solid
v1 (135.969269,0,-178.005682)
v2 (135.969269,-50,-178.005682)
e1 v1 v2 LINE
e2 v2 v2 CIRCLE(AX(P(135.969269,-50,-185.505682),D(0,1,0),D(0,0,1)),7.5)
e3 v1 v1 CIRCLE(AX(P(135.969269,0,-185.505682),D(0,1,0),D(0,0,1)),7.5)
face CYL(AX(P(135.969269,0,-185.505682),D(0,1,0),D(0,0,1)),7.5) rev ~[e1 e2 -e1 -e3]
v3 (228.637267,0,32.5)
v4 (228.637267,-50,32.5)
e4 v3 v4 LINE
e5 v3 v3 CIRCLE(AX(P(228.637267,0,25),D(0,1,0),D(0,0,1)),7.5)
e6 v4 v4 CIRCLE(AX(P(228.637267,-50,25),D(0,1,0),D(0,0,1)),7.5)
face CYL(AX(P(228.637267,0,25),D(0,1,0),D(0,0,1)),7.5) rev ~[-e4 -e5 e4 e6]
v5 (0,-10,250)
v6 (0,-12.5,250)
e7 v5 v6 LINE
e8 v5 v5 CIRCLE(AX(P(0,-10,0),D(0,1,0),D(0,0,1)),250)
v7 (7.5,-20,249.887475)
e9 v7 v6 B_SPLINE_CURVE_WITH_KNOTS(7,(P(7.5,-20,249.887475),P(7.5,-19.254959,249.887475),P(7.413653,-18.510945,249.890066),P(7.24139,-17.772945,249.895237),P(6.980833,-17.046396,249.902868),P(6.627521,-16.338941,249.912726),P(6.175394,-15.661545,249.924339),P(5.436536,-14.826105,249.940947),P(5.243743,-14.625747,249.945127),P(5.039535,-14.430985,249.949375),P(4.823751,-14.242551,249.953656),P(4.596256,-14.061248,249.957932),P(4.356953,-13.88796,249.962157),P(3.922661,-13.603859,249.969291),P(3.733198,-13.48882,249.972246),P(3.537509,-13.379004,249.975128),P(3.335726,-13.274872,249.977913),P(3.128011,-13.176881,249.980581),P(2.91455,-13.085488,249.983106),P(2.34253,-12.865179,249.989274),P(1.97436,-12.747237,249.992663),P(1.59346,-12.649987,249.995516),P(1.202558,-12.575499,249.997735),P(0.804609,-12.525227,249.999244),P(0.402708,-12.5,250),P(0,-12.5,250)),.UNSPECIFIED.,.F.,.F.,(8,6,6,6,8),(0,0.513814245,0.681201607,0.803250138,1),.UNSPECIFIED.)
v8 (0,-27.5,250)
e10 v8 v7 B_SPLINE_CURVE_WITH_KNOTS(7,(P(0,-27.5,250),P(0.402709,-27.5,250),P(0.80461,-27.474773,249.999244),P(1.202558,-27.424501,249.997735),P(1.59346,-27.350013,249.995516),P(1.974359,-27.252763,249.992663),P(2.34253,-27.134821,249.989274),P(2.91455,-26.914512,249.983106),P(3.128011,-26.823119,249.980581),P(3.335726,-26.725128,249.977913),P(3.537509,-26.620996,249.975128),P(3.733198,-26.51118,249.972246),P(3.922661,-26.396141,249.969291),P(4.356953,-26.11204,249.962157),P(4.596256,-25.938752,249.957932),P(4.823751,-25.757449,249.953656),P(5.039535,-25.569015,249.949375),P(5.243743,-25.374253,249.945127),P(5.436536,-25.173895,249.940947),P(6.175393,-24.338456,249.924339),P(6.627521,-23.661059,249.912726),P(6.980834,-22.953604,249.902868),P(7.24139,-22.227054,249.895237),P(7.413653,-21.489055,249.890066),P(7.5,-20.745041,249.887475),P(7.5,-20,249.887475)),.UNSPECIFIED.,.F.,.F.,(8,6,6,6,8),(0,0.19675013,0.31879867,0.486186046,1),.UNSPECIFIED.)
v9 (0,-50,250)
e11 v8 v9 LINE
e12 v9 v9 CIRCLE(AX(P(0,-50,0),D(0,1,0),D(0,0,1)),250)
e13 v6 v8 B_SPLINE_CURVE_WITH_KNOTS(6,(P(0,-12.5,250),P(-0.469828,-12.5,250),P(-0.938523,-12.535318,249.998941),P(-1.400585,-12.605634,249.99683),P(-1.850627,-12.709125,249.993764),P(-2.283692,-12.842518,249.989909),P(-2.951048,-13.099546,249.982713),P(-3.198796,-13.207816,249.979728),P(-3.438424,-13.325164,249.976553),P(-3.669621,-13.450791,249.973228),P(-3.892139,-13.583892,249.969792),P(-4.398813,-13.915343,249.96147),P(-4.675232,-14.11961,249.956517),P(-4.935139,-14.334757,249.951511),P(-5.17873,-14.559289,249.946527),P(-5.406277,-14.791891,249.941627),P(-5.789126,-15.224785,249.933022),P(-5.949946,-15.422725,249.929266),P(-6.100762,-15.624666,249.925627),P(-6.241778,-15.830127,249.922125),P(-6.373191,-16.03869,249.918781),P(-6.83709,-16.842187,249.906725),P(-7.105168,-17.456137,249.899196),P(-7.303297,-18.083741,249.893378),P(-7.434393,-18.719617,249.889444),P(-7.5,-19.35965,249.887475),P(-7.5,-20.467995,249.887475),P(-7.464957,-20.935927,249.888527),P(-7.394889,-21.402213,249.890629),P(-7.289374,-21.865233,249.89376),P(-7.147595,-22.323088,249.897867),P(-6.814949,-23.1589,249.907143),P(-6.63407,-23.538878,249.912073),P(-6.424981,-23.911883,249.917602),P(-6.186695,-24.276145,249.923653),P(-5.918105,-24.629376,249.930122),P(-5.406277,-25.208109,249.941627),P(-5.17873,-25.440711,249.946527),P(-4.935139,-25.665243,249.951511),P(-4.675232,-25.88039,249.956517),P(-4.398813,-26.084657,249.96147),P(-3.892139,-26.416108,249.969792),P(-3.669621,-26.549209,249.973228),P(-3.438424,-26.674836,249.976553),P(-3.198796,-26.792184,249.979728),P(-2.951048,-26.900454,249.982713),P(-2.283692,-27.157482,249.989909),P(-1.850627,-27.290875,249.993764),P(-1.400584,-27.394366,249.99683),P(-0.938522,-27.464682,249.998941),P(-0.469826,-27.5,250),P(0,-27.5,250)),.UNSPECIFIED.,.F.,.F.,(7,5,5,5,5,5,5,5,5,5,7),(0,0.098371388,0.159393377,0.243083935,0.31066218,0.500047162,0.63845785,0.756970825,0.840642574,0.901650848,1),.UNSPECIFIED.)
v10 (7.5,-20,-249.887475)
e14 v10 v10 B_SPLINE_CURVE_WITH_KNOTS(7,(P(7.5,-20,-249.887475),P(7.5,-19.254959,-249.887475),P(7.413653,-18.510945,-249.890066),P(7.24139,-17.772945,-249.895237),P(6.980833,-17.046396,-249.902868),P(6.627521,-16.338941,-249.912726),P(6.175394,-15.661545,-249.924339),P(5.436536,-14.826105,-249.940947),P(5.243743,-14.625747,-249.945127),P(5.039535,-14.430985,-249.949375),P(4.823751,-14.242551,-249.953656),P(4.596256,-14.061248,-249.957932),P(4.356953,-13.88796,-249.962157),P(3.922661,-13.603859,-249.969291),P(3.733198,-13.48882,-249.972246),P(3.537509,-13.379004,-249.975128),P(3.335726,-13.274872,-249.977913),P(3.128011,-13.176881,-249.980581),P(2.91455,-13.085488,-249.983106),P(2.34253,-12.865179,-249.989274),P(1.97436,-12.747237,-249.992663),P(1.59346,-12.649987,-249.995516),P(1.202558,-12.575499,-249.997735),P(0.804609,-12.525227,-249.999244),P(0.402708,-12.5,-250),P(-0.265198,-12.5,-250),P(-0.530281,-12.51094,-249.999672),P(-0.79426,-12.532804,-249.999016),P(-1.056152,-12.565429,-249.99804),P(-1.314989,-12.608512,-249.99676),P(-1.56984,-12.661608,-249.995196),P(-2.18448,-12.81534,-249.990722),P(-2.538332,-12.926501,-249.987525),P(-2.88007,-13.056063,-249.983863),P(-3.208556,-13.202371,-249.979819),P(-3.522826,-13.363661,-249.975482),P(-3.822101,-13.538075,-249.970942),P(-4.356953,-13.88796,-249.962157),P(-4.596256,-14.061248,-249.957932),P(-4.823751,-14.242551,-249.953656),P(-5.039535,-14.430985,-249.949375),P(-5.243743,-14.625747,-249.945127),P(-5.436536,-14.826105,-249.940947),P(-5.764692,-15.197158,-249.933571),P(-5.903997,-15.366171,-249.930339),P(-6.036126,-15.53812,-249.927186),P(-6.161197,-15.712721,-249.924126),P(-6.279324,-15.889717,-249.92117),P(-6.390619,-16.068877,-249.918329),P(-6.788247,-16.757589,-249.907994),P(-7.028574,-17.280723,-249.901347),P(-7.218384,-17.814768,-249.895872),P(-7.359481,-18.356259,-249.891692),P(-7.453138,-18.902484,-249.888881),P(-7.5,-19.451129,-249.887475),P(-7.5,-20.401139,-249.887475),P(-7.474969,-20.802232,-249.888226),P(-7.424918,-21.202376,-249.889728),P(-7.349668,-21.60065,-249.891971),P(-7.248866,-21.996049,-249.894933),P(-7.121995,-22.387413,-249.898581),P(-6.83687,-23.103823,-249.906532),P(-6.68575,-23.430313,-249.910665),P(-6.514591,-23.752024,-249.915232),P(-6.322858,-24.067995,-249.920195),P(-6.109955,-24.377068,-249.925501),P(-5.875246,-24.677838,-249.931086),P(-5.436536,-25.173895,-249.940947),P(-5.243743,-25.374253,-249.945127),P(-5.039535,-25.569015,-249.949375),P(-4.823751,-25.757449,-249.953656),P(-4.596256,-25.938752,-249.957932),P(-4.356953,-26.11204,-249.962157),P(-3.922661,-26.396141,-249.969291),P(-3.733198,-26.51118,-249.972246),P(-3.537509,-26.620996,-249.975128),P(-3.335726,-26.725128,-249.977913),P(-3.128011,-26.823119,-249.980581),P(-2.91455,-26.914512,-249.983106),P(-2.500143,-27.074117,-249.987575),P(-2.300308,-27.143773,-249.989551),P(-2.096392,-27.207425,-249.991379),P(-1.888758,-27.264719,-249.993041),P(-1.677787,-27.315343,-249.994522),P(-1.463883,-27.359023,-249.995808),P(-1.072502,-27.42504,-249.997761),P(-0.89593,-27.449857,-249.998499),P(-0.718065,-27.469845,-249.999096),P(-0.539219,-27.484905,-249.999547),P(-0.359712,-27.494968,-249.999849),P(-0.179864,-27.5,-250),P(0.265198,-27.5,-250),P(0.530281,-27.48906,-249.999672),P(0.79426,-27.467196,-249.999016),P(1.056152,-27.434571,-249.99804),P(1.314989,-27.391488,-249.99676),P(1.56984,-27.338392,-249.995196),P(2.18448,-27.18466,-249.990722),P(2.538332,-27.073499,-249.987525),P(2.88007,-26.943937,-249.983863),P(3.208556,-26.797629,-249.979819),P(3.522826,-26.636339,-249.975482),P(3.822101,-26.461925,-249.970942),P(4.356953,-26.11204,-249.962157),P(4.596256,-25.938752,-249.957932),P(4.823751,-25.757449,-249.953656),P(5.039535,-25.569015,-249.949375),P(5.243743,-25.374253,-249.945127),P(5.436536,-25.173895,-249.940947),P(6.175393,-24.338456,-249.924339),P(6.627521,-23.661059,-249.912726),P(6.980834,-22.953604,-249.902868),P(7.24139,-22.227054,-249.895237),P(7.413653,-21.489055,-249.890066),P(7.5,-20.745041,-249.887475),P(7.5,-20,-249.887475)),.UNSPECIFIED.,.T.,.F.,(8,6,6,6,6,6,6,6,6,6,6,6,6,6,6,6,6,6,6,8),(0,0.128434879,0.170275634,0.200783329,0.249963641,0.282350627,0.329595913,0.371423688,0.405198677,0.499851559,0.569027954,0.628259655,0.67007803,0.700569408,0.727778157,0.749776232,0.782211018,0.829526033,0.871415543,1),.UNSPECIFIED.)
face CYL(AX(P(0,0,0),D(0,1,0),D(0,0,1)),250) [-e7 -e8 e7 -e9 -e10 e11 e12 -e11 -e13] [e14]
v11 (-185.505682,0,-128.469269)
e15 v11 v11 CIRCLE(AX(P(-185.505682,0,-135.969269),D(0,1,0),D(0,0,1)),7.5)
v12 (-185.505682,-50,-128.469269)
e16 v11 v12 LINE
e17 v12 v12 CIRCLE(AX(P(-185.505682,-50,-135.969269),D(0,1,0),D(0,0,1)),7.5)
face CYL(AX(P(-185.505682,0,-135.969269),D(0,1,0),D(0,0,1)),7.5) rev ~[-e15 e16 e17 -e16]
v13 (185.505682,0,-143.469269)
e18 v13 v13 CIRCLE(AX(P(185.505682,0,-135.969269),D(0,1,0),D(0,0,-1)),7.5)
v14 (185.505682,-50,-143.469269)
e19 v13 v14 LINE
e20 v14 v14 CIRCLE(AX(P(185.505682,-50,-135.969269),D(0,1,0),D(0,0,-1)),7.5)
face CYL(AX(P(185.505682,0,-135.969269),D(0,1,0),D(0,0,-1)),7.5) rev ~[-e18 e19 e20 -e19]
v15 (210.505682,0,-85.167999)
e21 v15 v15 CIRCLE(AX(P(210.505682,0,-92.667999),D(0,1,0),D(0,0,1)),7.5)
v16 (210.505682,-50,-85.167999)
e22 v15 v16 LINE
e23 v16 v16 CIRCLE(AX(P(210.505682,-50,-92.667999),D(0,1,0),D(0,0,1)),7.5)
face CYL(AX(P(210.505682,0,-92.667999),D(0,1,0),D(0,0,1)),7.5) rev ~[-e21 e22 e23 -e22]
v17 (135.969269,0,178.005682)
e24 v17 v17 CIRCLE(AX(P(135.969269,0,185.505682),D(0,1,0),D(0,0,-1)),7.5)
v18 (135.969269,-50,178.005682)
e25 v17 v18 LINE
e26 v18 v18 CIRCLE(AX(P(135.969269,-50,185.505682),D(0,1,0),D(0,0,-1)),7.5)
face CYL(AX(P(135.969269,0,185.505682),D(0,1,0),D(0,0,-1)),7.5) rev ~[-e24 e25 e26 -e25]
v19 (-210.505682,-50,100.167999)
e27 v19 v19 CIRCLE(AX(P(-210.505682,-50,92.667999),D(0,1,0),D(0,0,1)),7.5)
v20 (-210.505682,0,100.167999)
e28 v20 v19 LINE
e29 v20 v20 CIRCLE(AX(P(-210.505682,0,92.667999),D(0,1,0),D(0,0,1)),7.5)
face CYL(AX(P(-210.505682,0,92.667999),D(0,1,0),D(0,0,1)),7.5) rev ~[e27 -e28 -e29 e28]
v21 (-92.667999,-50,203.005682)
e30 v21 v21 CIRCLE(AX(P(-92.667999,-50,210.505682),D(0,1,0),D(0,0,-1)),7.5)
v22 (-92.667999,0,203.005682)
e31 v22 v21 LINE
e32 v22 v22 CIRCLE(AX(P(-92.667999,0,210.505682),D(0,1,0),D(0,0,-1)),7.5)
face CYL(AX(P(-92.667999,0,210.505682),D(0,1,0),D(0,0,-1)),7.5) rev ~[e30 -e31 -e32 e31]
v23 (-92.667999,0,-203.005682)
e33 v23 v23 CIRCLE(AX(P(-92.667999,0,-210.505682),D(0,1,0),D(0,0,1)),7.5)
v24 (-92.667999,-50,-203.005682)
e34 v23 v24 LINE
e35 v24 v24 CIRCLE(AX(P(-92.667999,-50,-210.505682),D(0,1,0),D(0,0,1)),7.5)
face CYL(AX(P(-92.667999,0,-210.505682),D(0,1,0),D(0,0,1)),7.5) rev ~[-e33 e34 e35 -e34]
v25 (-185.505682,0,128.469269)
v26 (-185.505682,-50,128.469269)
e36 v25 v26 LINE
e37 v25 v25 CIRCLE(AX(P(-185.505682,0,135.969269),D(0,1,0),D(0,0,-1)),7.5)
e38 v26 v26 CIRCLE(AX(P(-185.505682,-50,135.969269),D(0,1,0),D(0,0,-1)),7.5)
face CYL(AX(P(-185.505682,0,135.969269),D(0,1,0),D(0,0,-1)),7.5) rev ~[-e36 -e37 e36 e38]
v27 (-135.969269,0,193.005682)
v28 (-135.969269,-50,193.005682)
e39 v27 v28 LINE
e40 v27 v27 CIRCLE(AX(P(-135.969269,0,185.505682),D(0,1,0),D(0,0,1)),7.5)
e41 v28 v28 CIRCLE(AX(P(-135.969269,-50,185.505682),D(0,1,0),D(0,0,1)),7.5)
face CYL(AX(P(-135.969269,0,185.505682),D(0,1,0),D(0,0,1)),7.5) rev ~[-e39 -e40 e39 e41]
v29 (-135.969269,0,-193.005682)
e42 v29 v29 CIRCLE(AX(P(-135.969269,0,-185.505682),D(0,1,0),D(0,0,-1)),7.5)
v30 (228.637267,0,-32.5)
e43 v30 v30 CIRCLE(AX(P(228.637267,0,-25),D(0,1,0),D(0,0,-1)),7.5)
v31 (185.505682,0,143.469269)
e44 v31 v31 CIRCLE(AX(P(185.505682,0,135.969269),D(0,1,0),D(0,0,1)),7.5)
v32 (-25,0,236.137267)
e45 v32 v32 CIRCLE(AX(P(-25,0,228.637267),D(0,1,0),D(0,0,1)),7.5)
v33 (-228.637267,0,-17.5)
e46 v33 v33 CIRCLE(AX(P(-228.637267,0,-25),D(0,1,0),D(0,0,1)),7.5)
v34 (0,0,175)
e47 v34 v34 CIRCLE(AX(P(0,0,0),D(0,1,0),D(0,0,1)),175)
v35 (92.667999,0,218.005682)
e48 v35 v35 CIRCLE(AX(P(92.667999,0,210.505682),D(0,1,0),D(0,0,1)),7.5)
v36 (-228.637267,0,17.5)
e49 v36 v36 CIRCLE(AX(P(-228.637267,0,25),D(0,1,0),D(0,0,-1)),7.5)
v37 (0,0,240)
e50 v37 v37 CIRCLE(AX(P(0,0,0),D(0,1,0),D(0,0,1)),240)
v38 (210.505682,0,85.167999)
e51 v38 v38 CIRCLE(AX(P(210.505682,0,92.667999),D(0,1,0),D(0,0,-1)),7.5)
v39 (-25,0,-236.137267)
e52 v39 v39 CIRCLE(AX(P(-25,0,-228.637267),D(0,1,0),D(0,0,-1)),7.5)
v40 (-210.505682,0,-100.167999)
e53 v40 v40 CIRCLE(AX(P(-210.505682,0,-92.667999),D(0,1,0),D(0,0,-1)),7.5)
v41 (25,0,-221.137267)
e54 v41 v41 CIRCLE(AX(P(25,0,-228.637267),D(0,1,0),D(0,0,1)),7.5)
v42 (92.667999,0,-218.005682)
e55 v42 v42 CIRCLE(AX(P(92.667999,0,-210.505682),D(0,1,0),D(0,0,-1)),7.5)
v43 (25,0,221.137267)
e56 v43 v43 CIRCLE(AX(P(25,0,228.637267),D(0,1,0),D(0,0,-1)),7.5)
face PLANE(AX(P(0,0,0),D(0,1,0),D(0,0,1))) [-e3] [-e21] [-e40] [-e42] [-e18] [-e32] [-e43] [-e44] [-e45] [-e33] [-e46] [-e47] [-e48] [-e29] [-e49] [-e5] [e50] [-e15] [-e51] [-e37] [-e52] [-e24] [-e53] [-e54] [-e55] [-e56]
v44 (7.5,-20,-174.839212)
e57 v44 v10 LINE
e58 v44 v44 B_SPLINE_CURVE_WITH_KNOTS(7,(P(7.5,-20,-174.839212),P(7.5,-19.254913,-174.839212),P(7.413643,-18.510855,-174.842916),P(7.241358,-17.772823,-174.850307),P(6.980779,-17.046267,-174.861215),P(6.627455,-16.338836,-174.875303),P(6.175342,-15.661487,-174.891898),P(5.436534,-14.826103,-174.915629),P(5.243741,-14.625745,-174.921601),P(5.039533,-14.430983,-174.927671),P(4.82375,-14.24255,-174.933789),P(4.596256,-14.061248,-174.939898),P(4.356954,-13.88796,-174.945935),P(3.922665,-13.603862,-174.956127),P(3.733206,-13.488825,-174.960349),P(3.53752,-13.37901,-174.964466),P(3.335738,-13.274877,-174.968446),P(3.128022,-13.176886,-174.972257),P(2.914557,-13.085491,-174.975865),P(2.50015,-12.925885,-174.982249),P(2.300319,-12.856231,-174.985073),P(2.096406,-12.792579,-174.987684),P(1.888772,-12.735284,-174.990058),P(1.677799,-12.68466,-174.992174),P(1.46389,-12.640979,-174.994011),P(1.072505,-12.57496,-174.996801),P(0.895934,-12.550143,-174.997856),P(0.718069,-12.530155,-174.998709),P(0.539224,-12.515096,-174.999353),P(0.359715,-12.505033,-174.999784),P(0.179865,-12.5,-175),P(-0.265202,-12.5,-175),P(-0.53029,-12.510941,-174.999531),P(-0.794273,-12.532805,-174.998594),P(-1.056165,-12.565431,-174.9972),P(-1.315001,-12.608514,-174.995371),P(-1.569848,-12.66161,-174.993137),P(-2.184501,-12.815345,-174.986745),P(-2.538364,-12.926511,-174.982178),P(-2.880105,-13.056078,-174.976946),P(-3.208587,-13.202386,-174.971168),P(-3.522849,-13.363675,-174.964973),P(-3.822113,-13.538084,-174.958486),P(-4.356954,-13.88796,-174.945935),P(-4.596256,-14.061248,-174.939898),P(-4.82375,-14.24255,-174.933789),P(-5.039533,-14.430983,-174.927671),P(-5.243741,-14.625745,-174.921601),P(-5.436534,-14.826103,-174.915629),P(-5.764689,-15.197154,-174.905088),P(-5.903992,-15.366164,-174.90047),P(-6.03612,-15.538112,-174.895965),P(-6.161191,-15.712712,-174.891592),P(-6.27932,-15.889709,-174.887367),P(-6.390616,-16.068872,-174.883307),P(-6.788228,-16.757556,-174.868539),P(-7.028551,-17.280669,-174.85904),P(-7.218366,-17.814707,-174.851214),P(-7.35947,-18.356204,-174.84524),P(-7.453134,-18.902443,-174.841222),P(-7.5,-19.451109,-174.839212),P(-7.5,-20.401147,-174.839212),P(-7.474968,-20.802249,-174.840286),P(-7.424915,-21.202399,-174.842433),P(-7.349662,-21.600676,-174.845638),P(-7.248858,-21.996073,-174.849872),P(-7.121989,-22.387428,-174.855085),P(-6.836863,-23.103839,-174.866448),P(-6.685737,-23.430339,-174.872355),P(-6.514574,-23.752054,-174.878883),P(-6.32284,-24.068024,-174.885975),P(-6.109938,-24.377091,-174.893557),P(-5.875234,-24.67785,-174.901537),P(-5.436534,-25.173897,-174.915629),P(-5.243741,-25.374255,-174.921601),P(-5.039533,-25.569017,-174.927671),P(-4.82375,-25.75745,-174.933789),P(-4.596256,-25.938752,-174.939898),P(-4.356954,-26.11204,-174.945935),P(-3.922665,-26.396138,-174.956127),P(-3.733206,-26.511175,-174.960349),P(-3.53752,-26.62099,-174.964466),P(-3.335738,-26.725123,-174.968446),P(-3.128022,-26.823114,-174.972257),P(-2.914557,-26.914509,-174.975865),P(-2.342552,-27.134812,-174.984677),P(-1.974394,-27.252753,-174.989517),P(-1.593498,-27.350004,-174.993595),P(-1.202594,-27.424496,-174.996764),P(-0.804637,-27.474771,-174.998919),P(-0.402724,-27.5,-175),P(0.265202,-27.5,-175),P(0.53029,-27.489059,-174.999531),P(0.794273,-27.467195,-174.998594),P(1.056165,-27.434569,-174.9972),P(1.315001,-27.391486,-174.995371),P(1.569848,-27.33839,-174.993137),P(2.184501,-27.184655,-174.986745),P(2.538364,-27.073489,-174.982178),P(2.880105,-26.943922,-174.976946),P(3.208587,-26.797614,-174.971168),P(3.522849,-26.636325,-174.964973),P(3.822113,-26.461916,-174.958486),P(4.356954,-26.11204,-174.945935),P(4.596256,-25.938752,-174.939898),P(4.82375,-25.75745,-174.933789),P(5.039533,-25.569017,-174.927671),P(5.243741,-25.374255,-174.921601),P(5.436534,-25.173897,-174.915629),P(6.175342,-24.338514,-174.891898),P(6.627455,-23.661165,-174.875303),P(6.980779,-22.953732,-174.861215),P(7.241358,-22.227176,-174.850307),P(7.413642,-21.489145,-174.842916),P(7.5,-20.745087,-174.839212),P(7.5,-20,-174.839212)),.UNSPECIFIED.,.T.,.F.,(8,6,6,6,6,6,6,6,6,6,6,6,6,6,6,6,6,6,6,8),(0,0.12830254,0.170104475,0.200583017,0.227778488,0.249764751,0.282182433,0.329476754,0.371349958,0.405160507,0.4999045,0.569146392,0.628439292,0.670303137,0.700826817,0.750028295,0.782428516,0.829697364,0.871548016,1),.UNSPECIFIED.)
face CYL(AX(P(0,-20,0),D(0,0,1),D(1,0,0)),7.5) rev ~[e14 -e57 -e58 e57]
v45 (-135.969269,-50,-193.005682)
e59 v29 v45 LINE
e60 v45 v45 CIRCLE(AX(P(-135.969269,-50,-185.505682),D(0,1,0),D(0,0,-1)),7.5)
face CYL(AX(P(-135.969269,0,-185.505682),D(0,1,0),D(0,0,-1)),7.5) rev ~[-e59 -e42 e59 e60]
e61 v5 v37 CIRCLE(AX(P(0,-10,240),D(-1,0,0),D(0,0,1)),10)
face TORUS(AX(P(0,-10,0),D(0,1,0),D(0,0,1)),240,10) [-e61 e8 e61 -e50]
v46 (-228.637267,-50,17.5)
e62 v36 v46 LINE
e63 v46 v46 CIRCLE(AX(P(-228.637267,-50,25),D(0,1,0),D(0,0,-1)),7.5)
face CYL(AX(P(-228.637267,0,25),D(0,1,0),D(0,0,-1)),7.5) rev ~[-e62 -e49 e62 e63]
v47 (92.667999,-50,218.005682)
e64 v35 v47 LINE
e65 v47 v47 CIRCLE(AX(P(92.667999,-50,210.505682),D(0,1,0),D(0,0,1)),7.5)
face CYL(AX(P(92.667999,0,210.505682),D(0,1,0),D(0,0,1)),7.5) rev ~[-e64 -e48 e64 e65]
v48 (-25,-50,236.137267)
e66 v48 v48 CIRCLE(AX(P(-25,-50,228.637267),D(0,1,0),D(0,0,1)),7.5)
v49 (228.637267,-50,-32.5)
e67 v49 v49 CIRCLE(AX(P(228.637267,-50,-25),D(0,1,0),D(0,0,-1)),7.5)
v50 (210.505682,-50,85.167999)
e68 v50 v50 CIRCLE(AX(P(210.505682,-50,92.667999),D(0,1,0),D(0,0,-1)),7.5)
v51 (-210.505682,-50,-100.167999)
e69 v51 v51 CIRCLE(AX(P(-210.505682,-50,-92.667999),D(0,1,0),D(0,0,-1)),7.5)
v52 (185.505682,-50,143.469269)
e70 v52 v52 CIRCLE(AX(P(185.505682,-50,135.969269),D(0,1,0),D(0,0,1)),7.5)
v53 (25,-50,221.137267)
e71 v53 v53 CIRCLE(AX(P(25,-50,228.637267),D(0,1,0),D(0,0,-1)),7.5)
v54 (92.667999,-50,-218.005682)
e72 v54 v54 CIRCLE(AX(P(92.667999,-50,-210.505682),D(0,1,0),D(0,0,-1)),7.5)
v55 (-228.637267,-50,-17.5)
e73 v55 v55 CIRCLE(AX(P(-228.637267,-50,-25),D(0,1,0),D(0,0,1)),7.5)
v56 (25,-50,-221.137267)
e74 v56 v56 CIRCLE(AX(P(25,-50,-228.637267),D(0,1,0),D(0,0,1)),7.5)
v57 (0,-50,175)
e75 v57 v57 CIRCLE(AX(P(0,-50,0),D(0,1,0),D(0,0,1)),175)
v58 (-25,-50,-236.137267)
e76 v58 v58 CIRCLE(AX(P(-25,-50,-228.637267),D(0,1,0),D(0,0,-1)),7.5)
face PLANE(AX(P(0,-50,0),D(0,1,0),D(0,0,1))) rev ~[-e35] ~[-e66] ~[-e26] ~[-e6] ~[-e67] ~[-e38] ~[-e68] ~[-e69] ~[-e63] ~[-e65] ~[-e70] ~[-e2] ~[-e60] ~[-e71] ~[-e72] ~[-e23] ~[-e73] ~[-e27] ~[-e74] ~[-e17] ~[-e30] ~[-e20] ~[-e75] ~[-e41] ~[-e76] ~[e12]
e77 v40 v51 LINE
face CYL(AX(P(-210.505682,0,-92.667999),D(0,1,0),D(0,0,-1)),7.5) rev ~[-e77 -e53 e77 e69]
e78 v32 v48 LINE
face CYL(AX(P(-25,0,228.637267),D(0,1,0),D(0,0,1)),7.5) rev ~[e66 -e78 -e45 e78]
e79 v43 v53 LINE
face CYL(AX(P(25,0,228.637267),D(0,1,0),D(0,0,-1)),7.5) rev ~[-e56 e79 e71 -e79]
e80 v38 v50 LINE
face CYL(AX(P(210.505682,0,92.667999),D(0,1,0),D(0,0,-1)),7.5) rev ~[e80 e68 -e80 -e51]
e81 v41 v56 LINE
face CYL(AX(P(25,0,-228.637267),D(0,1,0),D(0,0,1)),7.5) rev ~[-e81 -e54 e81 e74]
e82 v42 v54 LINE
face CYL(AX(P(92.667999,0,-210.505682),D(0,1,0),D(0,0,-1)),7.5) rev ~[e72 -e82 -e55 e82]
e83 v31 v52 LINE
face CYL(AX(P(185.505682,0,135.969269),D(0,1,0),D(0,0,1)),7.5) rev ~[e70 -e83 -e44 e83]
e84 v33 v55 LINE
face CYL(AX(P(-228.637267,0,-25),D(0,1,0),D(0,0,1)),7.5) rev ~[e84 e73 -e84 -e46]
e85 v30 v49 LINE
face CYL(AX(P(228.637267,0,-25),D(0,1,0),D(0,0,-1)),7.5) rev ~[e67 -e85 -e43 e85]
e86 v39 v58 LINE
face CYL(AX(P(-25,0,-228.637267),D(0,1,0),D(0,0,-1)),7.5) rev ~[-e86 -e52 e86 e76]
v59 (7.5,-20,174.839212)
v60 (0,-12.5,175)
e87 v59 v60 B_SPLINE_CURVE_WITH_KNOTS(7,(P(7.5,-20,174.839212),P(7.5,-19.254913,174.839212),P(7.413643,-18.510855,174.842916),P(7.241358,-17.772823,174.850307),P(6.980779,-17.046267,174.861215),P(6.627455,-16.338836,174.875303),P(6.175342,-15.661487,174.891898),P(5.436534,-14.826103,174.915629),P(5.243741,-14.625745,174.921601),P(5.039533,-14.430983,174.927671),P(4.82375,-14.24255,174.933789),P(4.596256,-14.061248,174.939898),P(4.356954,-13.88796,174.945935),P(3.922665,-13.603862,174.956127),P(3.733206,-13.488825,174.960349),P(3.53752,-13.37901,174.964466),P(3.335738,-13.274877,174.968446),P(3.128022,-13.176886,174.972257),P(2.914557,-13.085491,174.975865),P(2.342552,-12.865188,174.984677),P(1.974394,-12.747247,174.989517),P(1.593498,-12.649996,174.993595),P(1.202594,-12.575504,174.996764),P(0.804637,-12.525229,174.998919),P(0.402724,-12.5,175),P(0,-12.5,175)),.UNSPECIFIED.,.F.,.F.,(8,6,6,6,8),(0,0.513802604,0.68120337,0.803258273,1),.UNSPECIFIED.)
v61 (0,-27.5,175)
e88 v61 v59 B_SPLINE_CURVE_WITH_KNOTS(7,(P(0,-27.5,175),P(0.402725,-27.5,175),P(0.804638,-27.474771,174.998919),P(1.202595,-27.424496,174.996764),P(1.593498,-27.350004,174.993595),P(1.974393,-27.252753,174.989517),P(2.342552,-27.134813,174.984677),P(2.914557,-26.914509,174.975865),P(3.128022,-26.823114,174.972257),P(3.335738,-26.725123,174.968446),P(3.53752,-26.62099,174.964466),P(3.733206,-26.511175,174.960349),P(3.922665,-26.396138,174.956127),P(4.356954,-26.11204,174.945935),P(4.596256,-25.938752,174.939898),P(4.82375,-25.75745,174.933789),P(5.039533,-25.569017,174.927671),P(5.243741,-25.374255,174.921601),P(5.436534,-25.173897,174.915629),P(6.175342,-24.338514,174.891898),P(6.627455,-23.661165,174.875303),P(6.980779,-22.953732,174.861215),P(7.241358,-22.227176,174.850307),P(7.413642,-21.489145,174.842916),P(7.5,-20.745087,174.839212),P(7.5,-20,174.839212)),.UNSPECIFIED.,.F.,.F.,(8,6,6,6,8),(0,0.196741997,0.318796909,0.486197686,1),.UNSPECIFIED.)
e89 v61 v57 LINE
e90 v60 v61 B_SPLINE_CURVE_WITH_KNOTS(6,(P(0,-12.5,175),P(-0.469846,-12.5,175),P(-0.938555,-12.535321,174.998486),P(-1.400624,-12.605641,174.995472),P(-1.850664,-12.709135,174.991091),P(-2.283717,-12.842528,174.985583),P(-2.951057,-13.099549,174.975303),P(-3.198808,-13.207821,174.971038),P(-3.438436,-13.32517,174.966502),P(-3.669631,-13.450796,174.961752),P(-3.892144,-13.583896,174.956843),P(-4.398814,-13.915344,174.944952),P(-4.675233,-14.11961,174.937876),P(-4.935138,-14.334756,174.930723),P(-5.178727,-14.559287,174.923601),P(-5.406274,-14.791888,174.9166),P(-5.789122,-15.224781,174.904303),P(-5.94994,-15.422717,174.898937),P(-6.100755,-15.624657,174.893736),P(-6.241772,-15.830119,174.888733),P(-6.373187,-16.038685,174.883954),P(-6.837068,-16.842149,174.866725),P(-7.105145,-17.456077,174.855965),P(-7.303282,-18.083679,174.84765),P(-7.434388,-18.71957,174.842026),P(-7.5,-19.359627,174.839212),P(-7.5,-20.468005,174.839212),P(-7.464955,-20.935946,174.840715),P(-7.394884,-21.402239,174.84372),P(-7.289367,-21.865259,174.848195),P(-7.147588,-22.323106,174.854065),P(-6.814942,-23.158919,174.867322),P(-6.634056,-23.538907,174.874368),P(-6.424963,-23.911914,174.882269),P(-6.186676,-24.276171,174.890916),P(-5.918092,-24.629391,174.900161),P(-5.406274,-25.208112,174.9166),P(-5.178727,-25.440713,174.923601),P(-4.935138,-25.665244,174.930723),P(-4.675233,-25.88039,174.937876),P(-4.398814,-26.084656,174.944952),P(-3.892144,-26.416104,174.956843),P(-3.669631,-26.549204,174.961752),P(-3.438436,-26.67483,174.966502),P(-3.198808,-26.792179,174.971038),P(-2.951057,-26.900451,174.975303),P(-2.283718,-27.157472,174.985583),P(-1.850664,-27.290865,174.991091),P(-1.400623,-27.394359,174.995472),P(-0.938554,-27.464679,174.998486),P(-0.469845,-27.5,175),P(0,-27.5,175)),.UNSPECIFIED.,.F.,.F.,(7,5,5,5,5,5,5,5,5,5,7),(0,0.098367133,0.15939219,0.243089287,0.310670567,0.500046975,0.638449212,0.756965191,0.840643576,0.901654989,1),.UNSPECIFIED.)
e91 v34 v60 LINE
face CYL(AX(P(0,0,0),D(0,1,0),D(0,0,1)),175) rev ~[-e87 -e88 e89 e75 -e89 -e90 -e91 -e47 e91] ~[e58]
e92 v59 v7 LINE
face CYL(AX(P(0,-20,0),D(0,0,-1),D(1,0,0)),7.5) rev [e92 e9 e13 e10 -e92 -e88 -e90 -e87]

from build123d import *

# Parameters (mm, degrees)
SKICA1_R                      = 250
P_IDAT_VYSUNUT_M1_DEPTH       = 50
SKICA2_R                      = 175
ODEBRAT_VYSUNUT_M1_DEPTH      = 60
ZAOBLIT1_R                    = 10
SKICA4_R                      = 7.5
ODEBRAT_VYSUNUT_M2_DEPTH      = 51
SKICA6_R                      = 7.5
ODEBRAT_VYSUNUT_M3_DEPTH      = 251
ODEBRAT_VYSUNUT_M3_DEPTH_BACK = 251


with BuildPart() as part:
    # Skica1 → Přidat vysunutím1 (new body)
    with BuildSketch(Plane(origin=(0, 0, 0), x_dir=(1, 0, 0), z_dir=(0, 1, 0))):
        with Locations(Location((0, 0, 0), (0, 0, 270))):  # turned: the seam where the file's is
            Circle(SKICA1_R)
    extrude(amount=-P_IDAT_VYSUNUT_M1_DEPTH)

    # Skica2 → Odebrat vysunutím1 (cut)
    with BuildSketch(Plane(origin=(0, 0, 0), x_dir=(1, 0, 0), z_dir=(0, 1, 0))):
        with Locations(Location((0, 0, 0), (0, 0, 270))):  # turned: the seam where the file's is
            Circle(SKICA2_R)
    extrude(amount=-ODEBRAT_VYSUNUT_M1_DEPTH, mode=Mode.SUBTRACT)

    # Zaoblit1
    zaoblit1_edges = [part.edges().sort_by_distance(p)[0] for p in [
        (0, 0, -250),
    ]]
    fillet(zaoblit1_edges, radius=ZAOBLIT1_R)

    # Skica4 → Odebrat vysunutím2 (cut, through all)
    with BuildSketch(Plane(origin=(0, 0, 0), x_dir=(1, 0, 0), z_dir=(0, 1, 0))):
        with Locations(Location((-25, -228.637267303, 0), (0, 0, 270))):  # turned: the seam where the file's is
            Circle(SKICA4_R)
        with Locations(Location((25, -228.637267303, 0), (0, 0, 90))):  # turned: the seam where the file's is
            Circle(SKICA4_R)
        with Locations(Location((-135.969268746, -185.505681737, 0), (0, 0, 270))):  # turned: the seam where the file's is
            Circle(SKICA4_R)
        with Locations(Location((-92.667998557, -210.505681737, 0), (0, 0, 90))):  # turned: the seam where the file's is
            Circle(SKICA4_R)
        with Locations(Location((-210.505681737, -92.667998557, 0), (0, 0, 270))):  # turned: the seam where the file's is
            Circle(SKICA4_R)
        with Locations(Location((-185.505681737, -135.969268746, 0), (0, 0, 90))):  # turned: the seam where the file's is
            Circle(SKICA4_R)
        with Locations(Location((-228.637267303, 25, 0), (0, 0, 270))):  # turned: the seam where the file's is
            Circle(SKICA4_R)
        with Locations(Location((-228.637267303, -25, 0), (0, 0, 90))):  # turned: the seam where the file's is
            Circle(SKICA4_R)
        with Locations(Location((-185.505681737, 135.969268746, 0), (0, 0, 270))):  # turned: the seam where the file's is
            Circle(SKICA4_R)
        with Locations(Location((-210.505681737, 92.667998557, 0), (0, 0, 90))):  # turned: the seam where the file's is
            Circle(SKICA4_R)
        with Locations(Location((-92.667998557, 210.505681737, 0), (0, 0, 270))):  # turned: the seam where the file's is
            Circle(SKICA4_R)
        with Locations(Location((-135.969268746, 185.505681737, 0), (0, 0, 90))):  # turned: the seam where the file's is
            Circle(SKICA4_R)
        with Locations(Location((25, 228.637267303, 0), (0, 0, 270))):  # turned: the seam where the file's is
            Circle(SKICA4_R)
        with Locations(Location((-25, 228.637267303, 0), (0, 0, 90))):  # turned: the seam where the file's is
            Circle(SKICA4_R)
        with Locations(Location((135.969268746, 185.505681737, 0), (0, 0, 270))):  # turned: the seam where the file's is
            Circle(SKICA4_R)
        with Locations(Location((92.667998557, 210.505681737, 0), (0, 0, 90))):  # turned: the seam where the file's is
            Circle(SKICA4_R)
        with Locations(Location((210.505681737, 92.667998557, 0), (0, 0, 270))):  # turned: the seam where the file's is
            Circle(SKICA4_R)
        with Locations(Location((185.505681737, 135.969268746, 0), (0, 0, 90))):  # turned: the seam where the file's is
            Circle(SKICA4_R)
        with Locations(Location((228.637267303, -25, 0), (0, 0, 270))):  # turned: the seam where the file's is
            Circle(SKICA4_R)
        with Locations(Location((228.637267303, 25, 0), (0, 0, 90))):  # turned: the seam where the file's is
            Circle(SKICA4_R)
        with Locations(Location((185.505681737, -135.969268746, 0), (0, 0, 270))):  # turned: the seam where the file's is
            Circle(SKICA4_R)
        with Locations(Location((210.505681737, -92.667998557, 0), (0, 0, 90))):  # turned: the seam where the file's is
            Circle(SKICA4_R)
        with Locations(Location((92.667998557, -210.505681737, 0), (0, 0, 270))):  # turned: the seam where the file's is
            Circle(SKICA4_R)
        with Locations(Location((135.969268746, -185.505681737, 0), (0, 0, 90))):  # turned: the seam where the file's is
            Circle(SKICA4_R)
    extrude(amount=-ODEBRAT_VYSUNUT_M2_DEPTH, mode=Mode.SUBTRACT)

    # Skica6 → Odebrat vysunutím3 (cut, two sides)
    with BuildSketch(Plane.XY) as odebrat_vysunut_m3_sk:
        with Locations((0, -20)):
            Circle(SKICA6_R)
    extrude(amount=ODEBRAT_VYSUNUT_M3_DEPTH, mode=Mode.SUBTRACT)
    extrude(odebrat_vysunut_m3_sk.sketch, amount=-ODEBRAT_VYSUNUT_M3_DEPTH_BACK, mode=Mode.SUBTRACT)


solid = part.part
